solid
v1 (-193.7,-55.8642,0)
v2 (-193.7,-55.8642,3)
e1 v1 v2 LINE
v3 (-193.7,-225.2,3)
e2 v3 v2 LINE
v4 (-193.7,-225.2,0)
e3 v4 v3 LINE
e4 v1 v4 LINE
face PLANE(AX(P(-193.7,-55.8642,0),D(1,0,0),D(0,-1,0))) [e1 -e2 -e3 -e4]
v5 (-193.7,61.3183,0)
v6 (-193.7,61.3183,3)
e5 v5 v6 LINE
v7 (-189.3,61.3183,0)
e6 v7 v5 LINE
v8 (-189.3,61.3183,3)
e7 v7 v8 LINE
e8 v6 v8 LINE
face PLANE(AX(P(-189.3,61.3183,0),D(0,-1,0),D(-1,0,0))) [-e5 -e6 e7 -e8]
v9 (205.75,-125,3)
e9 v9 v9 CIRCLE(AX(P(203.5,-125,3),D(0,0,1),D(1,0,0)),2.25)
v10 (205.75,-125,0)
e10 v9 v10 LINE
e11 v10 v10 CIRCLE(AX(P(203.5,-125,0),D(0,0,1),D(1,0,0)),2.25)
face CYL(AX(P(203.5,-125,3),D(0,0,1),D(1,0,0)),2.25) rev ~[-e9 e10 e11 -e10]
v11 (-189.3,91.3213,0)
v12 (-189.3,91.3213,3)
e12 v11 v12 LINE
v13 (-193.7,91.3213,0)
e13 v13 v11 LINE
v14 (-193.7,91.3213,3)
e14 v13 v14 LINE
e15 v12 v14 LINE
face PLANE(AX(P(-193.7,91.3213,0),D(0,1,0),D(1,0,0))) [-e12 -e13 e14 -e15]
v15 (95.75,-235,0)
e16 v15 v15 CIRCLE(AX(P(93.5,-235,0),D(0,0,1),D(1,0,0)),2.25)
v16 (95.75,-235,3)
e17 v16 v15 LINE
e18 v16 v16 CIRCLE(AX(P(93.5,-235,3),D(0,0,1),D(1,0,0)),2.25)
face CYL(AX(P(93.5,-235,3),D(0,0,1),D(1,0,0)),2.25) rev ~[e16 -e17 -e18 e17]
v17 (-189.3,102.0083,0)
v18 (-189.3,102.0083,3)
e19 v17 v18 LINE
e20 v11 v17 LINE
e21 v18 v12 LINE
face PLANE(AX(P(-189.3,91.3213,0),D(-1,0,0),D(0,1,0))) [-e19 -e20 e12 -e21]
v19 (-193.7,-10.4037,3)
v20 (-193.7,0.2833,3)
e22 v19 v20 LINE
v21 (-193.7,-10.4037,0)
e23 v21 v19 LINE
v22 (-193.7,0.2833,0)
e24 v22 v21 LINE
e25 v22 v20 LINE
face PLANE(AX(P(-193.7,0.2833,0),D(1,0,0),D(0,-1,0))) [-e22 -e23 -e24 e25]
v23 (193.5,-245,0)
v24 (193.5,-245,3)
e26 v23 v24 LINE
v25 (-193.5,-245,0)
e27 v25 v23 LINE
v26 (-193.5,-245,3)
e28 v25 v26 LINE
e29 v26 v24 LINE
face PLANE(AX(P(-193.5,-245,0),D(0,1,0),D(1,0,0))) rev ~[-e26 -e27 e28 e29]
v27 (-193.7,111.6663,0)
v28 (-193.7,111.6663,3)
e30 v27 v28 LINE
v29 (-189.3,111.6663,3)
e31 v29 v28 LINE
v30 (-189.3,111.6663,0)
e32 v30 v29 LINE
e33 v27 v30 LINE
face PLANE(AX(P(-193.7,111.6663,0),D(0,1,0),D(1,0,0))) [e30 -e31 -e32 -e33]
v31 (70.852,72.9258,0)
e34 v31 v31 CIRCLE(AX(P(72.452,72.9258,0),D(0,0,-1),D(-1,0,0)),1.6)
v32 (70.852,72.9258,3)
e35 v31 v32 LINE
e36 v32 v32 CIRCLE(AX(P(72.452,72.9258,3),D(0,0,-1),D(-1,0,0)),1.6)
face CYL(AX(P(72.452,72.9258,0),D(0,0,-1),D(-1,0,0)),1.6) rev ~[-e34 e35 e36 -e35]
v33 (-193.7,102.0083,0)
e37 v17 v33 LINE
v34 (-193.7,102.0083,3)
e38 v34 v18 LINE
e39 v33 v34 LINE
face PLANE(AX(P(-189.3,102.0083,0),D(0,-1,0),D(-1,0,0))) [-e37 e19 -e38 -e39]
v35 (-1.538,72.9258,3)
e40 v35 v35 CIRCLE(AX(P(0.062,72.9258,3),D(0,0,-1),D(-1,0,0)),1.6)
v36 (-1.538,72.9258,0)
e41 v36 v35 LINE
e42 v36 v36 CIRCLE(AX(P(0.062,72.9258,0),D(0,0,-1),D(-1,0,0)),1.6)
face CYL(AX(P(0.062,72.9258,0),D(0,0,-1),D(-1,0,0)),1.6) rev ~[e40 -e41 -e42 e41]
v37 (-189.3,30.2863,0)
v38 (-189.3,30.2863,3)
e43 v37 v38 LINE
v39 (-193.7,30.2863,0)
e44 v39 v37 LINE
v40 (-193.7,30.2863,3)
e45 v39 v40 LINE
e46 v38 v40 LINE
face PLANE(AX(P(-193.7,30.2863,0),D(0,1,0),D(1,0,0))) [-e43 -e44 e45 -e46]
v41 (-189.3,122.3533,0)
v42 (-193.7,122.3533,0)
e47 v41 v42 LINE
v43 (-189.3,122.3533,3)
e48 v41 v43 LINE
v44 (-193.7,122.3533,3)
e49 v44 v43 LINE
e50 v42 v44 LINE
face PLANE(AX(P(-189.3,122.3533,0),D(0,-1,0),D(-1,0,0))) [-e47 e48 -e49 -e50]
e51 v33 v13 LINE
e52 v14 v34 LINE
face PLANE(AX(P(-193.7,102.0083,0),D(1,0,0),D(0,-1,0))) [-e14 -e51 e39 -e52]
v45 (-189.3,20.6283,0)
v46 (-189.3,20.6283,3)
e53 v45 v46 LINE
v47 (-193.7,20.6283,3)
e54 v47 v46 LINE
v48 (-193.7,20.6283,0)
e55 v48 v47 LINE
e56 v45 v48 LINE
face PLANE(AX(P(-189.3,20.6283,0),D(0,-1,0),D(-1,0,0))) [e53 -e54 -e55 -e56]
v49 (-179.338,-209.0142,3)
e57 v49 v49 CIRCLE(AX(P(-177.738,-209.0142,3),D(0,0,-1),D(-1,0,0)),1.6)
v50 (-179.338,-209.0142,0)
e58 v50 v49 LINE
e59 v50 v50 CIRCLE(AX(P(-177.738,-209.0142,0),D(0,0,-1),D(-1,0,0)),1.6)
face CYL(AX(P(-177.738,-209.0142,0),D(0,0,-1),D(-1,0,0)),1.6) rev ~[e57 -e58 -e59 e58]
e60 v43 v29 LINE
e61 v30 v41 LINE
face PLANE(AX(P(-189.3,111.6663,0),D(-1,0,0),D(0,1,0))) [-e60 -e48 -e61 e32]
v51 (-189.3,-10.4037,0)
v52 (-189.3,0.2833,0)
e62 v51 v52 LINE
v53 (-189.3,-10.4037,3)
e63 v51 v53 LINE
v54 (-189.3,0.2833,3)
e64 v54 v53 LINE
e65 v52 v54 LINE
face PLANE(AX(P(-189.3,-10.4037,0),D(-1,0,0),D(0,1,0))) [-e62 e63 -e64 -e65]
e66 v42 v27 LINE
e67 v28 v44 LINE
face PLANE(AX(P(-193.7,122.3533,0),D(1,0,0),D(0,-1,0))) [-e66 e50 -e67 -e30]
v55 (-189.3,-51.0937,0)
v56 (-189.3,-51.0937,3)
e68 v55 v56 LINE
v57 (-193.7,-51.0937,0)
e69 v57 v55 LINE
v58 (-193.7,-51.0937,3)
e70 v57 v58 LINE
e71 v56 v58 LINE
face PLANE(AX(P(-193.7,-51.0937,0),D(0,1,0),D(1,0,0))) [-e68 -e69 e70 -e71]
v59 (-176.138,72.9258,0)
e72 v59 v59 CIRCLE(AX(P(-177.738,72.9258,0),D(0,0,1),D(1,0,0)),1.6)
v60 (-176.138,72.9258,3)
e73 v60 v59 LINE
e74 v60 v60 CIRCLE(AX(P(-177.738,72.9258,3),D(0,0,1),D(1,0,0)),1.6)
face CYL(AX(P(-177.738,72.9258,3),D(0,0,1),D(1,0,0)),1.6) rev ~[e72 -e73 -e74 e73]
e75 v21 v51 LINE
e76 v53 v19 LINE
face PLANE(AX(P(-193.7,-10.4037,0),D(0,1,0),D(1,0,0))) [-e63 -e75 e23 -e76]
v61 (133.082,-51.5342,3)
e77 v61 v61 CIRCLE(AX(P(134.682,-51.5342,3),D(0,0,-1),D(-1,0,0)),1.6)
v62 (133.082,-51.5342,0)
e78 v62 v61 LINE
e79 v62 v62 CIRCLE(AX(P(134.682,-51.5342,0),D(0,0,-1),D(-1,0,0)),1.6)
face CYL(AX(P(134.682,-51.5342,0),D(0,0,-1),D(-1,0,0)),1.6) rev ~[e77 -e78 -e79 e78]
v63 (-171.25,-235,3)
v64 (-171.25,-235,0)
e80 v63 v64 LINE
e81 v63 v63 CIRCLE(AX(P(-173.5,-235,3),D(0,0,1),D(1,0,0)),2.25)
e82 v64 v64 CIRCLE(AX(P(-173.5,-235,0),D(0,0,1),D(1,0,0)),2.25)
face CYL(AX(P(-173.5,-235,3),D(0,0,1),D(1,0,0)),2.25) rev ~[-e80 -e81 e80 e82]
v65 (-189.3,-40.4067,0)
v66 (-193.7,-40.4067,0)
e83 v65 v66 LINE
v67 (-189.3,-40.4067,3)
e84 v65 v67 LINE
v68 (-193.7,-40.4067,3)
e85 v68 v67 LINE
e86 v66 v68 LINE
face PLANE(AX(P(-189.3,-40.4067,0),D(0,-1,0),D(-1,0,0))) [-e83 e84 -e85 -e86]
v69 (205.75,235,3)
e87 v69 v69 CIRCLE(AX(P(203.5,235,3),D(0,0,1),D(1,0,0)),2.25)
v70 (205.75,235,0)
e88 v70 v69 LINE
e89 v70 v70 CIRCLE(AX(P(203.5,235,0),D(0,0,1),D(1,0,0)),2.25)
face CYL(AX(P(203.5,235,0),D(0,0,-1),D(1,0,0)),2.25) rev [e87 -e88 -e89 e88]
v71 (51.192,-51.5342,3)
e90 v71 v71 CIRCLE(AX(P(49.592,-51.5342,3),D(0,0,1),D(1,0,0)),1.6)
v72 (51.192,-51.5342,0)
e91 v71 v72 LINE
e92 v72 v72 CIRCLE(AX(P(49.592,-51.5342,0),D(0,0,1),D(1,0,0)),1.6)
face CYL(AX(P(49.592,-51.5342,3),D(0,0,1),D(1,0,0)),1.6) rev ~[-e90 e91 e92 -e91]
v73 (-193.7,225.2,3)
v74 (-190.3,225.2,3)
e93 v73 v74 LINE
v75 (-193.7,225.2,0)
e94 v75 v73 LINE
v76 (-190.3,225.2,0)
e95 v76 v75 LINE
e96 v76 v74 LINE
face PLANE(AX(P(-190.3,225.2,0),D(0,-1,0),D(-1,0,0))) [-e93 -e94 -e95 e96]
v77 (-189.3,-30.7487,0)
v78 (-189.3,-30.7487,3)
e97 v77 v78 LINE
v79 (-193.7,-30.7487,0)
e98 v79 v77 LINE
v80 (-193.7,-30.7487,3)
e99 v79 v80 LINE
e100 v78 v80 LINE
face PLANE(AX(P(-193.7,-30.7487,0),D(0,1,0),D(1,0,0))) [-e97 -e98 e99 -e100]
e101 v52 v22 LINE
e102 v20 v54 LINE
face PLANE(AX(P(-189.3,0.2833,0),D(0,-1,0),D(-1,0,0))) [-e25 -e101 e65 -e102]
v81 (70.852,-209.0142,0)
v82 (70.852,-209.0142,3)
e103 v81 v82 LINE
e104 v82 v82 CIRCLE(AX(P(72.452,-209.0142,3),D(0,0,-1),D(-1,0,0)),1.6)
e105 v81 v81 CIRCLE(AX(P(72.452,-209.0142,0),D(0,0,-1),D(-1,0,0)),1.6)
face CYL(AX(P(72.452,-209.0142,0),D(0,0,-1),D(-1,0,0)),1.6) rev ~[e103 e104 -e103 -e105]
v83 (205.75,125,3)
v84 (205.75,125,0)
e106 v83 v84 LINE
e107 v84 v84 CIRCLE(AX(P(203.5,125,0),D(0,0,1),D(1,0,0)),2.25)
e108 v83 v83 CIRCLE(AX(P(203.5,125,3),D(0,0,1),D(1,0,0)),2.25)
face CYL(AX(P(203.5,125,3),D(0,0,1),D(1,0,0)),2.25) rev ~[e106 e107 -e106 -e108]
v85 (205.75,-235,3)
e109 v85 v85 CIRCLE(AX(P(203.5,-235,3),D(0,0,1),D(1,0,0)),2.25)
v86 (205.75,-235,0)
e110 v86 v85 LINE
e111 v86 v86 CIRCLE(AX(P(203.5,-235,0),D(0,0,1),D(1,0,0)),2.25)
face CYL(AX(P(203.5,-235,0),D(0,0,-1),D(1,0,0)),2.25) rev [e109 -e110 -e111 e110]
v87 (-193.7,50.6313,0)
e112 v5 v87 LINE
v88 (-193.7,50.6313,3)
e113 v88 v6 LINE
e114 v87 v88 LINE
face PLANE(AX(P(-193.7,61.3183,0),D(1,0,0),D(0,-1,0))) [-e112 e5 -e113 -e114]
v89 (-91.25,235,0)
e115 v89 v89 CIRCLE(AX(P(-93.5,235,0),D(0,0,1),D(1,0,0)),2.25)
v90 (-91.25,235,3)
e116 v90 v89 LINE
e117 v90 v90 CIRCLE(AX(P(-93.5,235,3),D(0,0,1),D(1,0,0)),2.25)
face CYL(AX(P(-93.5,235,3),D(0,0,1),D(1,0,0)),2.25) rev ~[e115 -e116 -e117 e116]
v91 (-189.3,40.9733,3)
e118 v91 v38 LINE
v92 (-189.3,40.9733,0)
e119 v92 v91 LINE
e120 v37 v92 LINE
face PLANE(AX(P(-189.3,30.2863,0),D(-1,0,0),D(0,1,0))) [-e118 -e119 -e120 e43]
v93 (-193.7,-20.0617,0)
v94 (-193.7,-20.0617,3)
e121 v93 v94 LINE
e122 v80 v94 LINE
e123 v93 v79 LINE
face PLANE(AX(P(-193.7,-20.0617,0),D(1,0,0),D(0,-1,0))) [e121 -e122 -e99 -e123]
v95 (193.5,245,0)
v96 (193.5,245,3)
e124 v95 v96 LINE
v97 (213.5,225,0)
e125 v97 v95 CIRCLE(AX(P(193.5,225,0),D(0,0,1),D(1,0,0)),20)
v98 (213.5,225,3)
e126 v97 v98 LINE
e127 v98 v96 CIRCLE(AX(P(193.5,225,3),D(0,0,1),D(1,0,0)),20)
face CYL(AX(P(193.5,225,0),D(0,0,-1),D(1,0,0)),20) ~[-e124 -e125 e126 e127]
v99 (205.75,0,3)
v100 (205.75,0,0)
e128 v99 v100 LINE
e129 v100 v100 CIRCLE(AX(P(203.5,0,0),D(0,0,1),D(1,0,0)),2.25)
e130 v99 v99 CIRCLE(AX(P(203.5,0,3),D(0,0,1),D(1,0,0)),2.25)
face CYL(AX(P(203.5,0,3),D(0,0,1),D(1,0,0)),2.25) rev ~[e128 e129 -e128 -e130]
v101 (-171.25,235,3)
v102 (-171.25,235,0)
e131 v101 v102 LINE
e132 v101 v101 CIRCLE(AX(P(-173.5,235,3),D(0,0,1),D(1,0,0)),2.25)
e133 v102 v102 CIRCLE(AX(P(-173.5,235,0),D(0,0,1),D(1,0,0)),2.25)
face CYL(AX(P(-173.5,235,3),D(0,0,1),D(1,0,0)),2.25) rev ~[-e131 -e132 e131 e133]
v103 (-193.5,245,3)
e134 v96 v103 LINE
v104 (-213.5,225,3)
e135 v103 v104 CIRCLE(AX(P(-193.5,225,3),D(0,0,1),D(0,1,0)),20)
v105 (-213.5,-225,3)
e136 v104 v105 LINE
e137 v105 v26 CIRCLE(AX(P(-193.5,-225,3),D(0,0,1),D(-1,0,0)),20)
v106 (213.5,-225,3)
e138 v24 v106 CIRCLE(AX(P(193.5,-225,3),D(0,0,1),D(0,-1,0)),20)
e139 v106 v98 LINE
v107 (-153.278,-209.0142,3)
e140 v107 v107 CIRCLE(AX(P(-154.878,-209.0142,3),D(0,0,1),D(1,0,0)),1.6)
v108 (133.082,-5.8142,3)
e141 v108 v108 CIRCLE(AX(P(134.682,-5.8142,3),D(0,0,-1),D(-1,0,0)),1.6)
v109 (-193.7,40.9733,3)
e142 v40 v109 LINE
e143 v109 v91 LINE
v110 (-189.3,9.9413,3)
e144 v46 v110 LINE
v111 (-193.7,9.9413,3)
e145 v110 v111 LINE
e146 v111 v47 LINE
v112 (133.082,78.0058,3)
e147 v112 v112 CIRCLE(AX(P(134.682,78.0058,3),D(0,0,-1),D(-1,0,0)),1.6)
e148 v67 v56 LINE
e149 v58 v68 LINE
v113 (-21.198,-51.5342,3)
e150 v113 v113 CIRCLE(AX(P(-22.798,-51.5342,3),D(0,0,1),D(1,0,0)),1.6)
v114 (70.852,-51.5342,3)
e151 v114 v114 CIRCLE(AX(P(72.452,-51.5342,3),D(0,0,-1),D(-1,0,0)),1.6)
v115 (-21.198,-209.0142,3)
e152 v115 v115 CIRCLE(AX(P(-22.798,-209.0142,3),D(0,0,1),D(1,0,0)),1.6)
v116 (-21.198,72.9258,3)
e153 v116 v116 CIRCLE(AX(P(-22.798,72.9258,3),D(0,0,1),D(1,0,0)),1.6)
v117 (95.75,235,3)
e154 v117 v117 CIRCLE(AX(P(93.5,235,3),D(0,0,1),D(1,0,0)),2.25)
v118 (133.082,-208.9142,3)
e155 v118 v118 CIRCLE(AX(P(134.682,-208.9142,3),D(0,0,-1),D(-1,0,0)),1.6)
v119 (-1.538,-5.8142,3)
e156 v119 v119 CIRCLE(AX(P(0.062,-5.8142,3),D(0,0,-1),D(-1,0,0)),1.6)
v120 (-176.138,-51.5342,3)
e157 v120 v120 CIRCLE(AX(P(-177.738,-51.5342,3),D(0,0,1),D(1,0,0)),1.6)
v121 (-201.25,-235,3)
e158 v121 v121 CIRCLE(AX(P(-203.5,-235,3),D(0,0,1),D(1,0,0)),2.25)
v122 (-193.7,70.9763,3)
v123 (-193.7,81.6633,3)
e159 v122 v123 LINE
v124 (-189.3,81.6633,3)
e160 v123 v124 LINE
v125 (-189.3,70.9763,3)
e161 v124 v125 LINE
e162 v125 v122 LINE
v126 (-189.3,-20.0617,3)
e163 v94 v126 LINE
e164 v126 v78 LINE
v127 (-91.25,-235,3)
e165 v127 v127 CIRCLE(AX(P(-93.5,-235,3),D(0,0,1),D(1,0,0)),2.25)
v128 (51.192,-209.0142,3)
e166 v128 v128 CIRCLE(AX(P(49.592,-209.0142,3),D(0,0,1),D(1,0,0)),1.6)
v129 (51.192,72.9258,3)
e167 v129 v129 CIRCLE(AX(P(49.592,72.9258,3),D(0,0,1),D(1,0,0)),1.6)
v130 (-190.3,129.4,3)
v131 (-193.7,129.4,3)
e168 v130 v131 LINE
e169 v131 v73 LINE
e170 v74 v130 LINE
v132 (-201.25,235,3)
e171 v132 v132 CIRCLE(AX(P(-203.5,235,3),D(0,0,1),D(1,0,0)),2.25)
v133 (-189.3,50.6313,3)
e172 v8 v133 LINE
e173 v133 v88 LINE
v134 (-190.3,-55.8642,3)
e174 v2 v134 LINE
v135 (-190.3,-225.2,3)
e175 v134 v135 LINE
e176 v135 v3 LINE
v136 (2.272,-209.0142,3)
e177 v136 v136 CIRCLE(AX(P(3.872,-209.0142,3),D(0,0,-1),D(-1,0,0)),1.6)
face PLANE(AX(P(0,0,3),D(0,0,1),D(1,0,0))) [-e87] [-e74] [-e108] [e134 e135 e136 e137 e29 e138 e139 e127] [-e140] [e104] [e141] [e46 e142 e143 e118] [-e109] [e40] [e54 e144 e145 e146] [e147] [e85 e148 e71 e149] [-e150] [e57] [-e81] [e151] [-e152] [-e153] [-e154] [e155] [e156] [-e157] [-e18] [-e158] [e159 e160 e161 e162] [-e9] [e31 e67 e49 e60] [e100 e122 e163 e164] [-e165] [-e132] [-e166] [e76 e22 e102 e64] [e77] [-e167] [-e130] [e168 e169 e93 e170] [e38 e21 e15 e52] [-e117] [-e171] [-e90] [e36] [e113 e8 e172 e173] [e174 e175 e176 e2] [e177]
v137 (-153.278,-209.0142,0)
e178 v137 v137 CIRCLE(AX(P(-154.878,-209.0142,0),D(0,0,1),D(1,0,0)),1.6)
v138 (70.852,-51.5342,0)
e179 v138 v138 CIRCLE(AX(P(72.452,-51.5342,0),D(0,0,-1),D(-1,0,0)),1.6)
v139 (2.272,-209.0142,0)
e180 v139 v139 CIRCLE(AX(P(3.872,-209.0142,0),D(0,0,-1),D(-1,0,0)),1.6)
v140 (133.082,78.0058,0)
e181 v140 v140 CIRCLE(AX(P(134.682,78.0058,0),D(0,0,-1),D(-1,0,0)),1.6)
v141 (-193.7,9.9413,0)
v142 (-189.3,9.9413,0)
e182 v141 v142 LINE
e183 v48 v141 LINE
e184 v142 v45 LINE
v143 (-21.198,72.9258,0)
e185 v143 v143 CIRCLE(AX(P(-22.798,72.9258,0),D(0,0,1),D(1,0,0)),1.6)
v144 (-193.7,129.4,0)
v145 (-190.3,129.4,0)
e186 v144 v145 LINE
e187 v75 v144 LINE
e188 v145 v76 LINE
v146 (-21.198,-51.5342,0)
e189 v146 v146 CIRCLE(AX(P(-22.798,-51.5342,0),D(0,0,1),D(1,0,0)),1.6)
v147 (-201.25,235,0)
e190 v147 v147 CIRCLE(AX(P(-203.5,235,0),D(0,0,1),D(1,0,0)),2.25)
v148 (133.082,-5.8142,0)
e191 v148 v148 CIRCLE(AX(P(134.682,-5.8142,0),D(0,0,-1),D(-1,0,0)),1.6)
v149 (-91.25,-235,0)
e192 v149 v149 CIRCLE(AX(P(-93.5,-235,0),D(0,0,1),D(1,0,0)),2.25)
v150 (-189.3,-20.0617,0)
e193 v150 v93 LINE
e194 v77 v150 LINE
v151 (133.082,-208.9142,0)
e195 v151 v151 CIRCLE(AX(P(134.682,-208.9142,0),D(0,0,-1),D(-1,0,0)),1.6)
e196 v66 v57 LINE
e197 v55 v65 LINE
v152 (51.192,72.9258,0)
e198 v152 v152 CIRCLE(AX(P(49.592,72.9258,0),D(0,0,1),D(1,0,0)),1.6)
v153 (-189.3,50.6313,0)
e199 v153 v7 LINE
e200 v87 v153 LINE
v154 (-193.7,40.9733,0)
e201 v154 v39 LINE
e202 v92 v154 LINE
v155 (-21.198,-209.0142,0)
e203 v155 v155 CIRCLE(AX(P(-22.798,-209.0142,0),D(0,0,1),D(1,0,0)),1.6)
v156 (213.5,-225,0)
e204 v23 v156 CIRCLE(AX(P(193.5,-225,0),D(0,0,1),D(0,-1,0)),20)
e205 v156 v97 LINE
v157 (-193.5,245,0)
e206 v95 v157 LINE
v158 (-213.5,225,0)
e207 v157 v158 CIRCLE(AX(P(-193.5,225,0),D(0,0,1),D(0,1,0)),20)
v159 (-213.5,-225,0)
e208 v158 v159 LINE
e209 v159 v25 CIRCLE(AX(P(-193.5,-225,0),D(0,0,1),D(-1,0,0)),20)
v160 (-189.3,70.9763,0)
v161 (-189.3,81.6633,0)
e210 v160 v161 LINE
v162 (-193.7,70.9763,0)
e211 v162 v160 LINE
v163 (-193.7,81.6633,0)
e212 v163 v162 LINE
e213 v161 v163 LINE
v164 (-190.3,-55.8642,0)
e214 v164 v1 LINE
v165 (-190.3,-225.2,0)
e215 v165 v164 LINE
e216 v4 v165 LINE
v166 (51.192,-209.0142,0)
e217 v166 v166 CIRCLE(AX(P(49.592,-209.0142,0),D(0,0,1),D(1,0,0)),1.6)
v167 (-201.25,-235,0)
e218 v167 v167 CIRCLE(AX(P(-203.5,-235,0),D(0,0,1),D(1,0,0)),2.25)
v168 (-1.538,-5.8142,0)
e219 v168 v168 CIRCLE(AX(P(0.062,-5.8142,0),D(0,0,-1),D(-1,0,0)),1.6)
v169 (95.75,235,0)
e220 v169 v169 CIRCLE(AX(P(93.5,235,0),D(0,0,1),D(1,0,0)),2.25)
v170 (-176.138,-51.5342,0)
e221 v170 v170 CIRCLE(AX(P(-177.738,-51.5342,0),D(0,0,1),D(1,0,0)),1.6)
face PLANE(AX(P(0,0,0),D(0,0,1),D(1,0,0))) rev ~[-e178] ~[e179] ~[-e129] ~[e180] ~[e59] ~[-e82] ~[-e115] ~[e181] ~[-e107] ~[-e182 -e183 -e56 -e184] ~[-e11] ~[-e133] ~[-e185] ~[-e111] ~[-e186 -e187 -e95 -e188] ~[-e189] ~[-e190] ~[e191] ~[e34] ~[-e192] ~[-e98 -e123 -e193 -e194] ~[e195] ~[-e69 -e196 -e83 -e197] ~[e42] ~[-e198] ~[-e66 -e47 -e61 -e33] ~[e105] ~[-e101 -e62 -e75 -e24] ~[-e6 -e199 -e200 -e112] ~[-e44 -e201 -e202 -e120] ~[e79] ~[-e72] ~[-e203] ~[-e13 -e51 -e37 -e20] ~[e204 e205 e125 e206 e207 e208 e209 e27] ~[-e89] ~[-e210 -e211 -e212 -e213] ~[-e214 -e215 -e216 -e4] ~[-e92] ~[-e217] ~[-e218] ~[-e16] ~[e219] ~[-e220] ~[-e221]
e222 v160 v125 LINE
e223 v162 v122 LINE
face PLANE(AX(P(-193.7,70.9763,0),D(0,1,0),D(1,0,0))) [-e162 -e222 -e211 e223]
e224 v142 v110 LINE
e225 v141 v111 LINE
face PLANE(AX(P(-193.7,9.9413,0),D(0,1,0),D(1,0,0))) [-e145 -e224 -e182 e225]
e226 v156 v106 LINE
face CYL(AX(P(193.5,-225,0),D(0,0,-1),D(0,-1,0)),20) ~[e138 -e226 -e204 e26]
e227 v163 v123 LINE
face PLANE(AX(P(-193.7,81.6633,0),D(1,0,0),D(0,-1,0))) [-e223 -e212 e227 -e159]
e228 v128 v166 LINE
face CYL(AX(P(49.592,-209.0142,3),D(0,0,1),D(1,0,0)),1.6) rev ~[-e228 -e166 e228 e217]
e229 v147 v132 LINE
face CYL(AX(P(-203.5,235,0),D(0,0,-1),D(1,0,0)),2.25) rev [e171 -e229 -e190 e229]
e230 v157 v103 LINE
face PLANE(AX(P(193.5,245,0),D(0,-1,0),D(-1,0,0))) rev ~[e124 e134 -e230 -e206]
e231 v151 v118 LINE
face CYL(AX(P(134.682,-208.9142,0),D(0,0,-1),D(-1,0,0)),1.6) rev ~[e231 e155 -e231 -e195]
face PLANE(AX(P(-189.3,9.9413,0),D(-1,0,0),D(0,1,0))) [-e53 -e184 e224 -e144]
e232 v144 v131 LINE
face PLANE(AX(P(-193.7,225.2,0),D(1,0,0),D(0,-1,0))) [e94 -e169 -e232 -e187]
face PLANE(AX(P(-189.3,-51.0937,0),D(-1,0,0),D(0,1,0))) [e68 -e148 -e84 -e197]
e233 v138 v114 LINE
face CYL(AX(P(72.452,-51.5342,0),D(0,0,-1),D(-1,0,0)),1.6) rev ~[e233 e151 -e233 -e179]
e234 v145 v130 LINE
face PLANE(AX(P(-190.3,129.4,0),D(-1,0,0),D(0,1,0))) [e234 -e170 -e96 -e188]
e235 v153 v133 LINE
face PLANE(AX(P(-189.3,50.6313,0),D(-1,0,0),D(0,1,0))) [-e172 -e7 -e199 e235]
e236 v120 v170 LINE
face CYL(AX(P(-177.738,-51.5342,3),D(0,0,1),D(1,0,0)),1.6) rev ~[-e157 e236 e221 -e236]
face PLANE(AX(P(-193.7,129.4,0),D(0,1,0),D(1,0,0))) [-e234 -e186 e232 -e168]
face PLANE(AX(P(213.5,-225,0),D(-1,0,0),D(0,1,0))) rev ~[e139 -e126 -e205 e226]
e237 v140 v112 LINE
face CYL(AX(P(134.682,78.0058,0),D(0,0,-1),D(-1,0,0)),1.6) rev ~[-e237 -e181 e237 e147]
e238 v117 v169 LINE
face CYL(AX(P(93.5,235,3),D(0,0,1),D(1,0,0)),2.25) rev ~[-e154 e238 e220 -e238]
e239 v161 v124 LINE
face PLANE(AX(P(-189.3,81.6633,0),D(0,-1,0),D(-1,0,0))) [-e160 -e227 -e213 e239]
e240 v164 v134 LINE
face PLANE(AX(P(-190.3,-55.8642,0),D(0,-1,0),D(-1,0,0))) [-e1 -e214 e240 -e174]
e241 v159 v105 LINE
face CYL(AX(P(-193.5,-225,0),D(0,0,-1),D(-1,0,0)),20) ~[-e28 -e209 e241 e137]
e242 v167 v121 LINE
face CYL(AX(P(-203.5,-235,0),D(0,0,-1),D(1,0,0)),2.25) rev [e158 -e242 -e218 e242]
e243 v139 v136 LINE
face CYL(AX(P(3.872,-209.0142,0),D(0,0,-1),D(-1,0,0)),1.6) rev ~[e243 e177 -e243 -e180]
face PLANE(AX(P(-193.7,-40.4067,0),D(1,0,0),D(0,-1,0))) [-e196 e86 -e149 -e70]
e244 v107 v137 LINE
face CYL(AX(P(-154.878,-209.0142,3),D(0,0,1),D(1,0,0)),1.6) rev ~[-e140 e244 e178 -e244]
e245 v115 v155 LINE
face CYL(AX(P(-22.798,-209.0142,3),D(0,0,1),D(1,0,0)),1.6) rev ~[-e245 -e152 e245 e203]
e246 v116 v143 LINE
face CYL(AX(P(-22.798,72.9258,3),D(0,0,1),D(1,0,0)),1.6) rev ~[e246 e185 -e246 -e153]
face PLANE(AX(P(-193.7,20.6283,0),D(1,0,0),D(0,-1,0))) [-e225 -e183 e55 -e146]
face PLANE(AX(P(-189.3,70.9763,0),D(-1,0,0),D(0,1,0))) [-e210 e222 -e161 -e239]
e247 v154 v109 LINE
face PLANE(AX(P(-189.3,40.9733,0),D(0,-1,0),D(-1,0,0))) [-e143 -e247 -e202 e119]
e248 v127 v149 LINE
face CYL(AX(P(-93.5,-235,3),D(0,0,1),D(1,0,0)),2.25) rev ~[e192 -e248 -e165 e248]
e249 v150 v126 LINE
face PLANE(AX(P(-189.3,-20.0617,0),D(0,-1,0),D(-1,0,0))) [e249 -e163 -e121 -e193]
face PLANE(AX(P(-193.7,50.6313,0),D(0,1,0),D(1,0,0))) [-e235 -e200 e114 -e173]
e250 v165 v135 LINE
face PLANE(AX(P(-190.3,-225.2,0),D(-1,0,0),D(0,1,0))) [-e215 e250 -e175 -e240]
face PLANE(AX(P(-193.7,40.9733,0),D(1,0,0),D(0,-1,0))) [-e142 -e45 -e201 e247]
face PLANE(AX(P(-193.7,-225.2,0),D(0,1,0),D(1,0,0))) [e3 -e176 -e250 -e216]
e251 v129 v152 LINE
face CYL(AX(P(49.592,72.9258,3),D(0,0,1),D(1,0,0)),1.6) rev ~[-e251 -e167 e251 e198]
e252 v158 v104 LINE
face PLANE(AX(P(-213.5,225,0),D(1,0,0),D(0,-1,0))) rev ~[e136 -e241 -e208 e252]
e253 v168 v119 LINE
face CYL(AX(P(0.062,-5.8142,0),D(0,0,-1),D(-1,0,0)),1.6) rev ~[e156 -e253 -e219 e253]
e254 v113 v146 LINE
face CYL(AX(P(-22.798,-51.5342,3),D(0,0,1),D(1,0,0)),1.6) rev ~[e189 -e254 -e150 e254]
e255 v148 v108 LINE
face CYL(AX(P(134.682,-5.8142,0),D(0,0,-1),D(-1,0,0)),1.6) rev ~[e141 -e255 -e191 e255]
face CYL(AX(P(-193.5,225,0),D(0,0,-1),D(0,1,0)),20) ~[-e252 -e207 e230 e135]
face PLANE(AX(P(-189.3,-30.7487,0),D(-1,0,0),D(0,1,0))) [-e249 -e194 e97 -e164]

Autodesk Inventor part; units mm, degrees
ref_plane "YZ Plane" through (0, 0, 0) normal (1, 0, 0) x (0, 1, 0)
ref_plane "XZ Plane" through (0, 0, 0) normal (0, 1, 0) x (-1, 0, 0)
ref_plane "XY Plane" through (0, 0, 0) normal (0, 0, 1) x (1, 0, 0)
sketch "スケッチ1" plane through (0, 0, 0) normal (0, 0, 1) x (1, 0, 0)
  line L0 (-193.5, -245) -> (193.5, -245)
  line L1 (213.5, -225) -> (213.5, 225)
  line L2 (193.5, 245) -> (-193.5, 245)
  line L3 (-213.5, 225) -> (-213.5, -225)
  line L4 (-213.5, -245) -> (213.5, 245) construction
  line L5 (213.5, -245) -> (-213.5, 245) construction
  circle A0 centre (-203.5, 235) radius 2.25
  circle A1 centre (203.5, 235) radius 2.25
  circle A2 centre (-203.5, -235) radius 2.25
  circle A3 centre (203.5, -235) radius 2.25
  arc A4 (-193.5, 245) -> (-213.5, 225) centre (-193.5, 225) ccw
  arc A5 (213.5, 225) -> (193.5, 245) centre (193.5, 225) ccw
  arc A6 (193.5, -245) -> (213.5, -225) centre (193.5, -225) ccw
  arc A7 (-213.5, -225) -> (-193.5, -245) centre (-193.5, -225) ccw
  point P0 (0, 0)
  dimension "d0" = 427
  dimension "d1" = 490
  dimension "d2" = 4.5
  dimension "d3" = 10
  dimension "d4" = 10
  dimension "d5" = 10
  dimension "d6" = 10
  dimension "d7" = 10
  dimension "d8" = 10
  dimension "d9" = 10
  dimension "d10" = 10
  dimension "d11" = 20
extrude "押し出し1" add sketch "スケッチ1" along normal blind 3
sketch "スケッチ2" plane through (0, 0, 3) normal (0, 0, 1) x (1, 0, 0)
  circle A0 centre (49.592, 72.9258) radius 1.6
  circle A1 centre (-22.798, 72.9258) radius 1.6
  circle A2 centre (-177.738, 72.9258) radius 1.6
  circle A3 centre (-177.738, -51.5342) radius 1.6
  circle A4 centre (-154.878, -209.0142) radius 1.6
  circle A5 centre (-22.798, -209.0142) radius 1.6
  circle A6 centre (49.592, -209.0142) radius 1.6
  circle A7 centre (49.592, -51.5342) radius 1.6
  circle A8 centre (-22.798, -51.5342) radius 1.6
  circle A9 centre (49.592, -209.0142) radius 2.25 projected
  circle A10 centre (-154.878, -209.0142) radius 2.25 projected
  circle A11 centre (49.592, -51.5342) radius 2.25 projected
  circle A12 centre (49.592, 72.9258) radius 2.25 projected
  circle A13 centre (-22.798, -209.0142) radius 2.25 projected
  circle A14 centre (-22.798, -51.5342) radius 2.25 projected
  circle A15 centre (-22.798, 72.9258) radius 2.25 projected
  circle A16 centre (-177.738, -51.5342) radius 2.25 projected
  circle A17 centre (-177.738, 72.9258) radius 2.25 projected
  point P0 (0, 0)
  dimension "d14" = 3.2
extrude "押し出し2" cut sketch "スケッチ2" against normal blind 3 contours A0 | A1 | A2 | A3 | A4 | A5 | A6 | A7 | A8
sketch "スケッチ4" plane through (0, 0, 3) normal (0, 0, 1) x (1, 0, 0)
  line L0 (-193.5, -225) -> (-190.5, -225) projected
  line L1 (-193.5, 225) -> (-193.5, 129.6) projected
  line L2 (-193.5, 129.6) -> (-190.5, 129.6) projected
  line L3 (-190.5, 225) -> (-190.5, 129.6) projected
  line L4 (-193.5, 225) -> (-190.5, 225) projected
  line L5 (-190.5, -40.6067) -> (-189.5, -40.6067)
  line L6 (-189.5, -40.6067) -> (-189.5, -50.8937)
  line L7 (-189.5, -50.8937) -> (-190.5, -50.8937)
  line L8 (-193.5, -225) -> (-193.5, -56.0642) projected
  line L9 (-190.5, -56.0642) -> (-190.5, -225) projected
  line L10 (-190.5, -40.6067) -> (-190.5, -50.8937) construction
  line L11 (-190.5, -50.8937) -> (-193.5, -50.8937)
  line L12 (-193.5, -50.8937) -> (-193.5, -40.6067)
  line L13 (-193.5, -40.6067) -> (-190.5, -40.6067)
  line L14 (-193.5, -56.0642) -> (-190.5, -56.0642) projected
  line L15 (-193.5, -20.2617) -> (-190.5, -20.2617)
  line L16 (-190.5, -20.2617) -> (-189.5, -20.2617)
  line L17 (-189.5, -20.2617) -> (-189.5, -30.5487)
  line L18 (-189.5, -30.5487) -> (-190.5, -30.5487)
  line L19 (-193.5, -30.5487) -> (-193.5, -20.2617)
  line L20 (-190.5, -30.5487) -> (-193.5, -30.5487)
  line L21 (-193.5, 0.0833) -> (-190.5, 0.0833)
  line L22 (-190.5, 0.0833) -> (-189.5, 0.0833)
  line L23 (-189.5, 0.0833) -> (-189.5, -10.2037)
  line L24 (-189.5, -10.2037) -> (-190.5, -10.2037)
  line L25 (-193.5, -10.2037) -> (-193.5, 0.0833)
  line L26 (-190.5, -10.2037) -> (-193.5, -10.2037)
  line L27 (-193.5, 20.4283) -> (-190.5, 20.4283)
  line L28 (-190.5, 20.4283) -> (-189.5, 20.4283)
  line L29 (-189.5, 20.4283) -> (-189.5, 10.1413)
  line L30 (-189.5, 10.1413) -> (-190.5, 10.1413)
  line L31 (-193.5, 10.1413) -> (-193.5, 20.4283)
  line L32 (-190.5, 10.1413) -> (-193.5, 10.1413)
  line L33 (-193.5, 40.7733) -> (-190.5, 40.7733)
  line L34 (-190.5, 40.7733) -> (-189.5, 40.7733)
  line L35 (-189.5, 40.7733) -> (-189.5, 30.4863)
  line L36 (-189.5, 30.4863) -> (-190.5, 30.4863)
  line L37 (-193.5, 30.4863) -> (-193.5, 40.7733)
  line L38 (-190.5, 30.4863) -> (-193.5, 30.4863)
  line L39 (-193.5, 61.1183) -> (-190.5, 61.1183)
  line L40 (-190.5, 61.1183) -> (-189.5, 61.1183)
  line L41 (-189.5, 61.1183) -> (-189.5, 50.8313)
  line L42 (-189.5, 50.8313) -> (-190.5, 50.8313)
  line L43 (-193.5, 50.8313) -> (-193.5, 61.1183)
  line L44 (-190.5, 50.8313) -> (-193.5, 50.8313)
  line L45 (-193.5, 81.4633) -> (-190.5, 81.4633)
  line L46 (-190.5, 81.4633) -> (-189.5, 81.4633)
  line L47 (-189.5, 81.4633) -> (-189.5, 71.1763)
  line L48 (-189.5, 71.1763) -> (-190.5, 71.1763)
  line L49 (-193.5, 71.1763) -> (-193.5, 81.4633)
  line L50 (-190.5, 71.1763) -> (-193.5, 71.1763)
  line L51 (-193.5, 101.8083) -> (-190.5, 101.8083)
  line L52 (-190.5, 101.8083) -> (-189.5, 101.8083)
  line L53 (-189.5, 101.8083) -> (-189.5, 91.5213)
  line L54 (-189.5, 91.5213) -> (-190.5, 91.5213)
  line L55 (-193.5, 91.5213) -> (-193.5, 101.8083)
  line L56 (-190.5, 91.5213) -> (-193.5, 91.5213)
  line L57 (-193.5, 122.1533) -> (-190.5, 122.1533)
  line L58 (-190.5, 122.1533) -> (-189.5, 122.1533)
  line L59 (-189.5, 122.1533) -> (-189.5, 111.8663)
  line L60 (-189.5, 111.8663) -> (-190.5, 111.8663)
  line L61 (-193.5, 111.8663) -> (-193.5, 122.1533)
  line L62 (-190.5, 111.8663) -> (-193.5, 111.8663)
  point P0 (0, 0)
  point P1 (-225, -58.3552)
  point P2 (-222, -58.3552)
  point P3 (-225, -120.4005)
  point P4 (-222, -120.4005)
  dimension "d143" = 20.345
  dimension "d148" = 1
  dimension "d149" = 3
extrude "押し出し3" cut sketch "スケッチ4" against normal blind 3
sketch "スケッチ5" plane through (0, 0, 3) normal (0, 0, 1) x (1, 0, 0)
  circle A0 centre (-203.5, 235) radius 2.25 construction
  circle A1 centre (-203.5, -235) radius 2.25 construction
  circle A2 centre (-173.5, -235) radius 2.25
  line L0 (-193.5, -245) -> (193.5, -245) projected
  circle A3 centre (-173.5, 235) radius 2.25
  line L1 (193.5, 245) -> (-193.5, 245) projected
  point P0 (0, 0)
  dimension "d20" = 30
  dimension "d21" = 10
  dimension "d22" = 30
  dimension "d23" = 10
extrude "押し出し4" cut sketch "スケッチ5" against normal blind 3
sketch "スケッチ7" plane through (0, 0, 3) normal (0, 0, 1) x (1, 0, 0)
  line L0 (213.5, 225) -> (213.5, -225) projected
  circle A0 centre (-93.5, -235) radius 2.25 projected
  circle A1 centre (203.5, 0) radius 2.25 projected
  circle A2 centre (93.5, -235) radius 2.25 projected
  circle A3 centre (203.5, 125) radius 2.25 projected
  circle A4 centre (-93.5, 235) radius 2.25 projected
  circle A5 centre (-203.5, -125) radius 2.25 projected
  circle A6 centre (-203.5, 0) radius 2.25 projected
  circle A7 centre (93.5, 235) radius 2.25 projected
  circle A8 centre (203.5, -125) radius 2.25 projected
  line L1 (-193.7, 132.4) -> (-190.3, 132.4) projected
  line L2 (-190.3, 132.4) -> (-190.3, 225.2) projected
  line L3 (-190.3, 225.2) -> (-193.7, 225.2) projected
  circle A9 centre (203.5, 235) radius 2.25 projected
  circle A10 centre (-203.5, 235) radius 2.25 projected
  circle A11 centre (203.5, -235) radius 2.25 projected
  circle A12 centre (-203.5, -235) radius 2.25 projected
  line L4 (193.5, -245) -> (-193.5, -245) projected
  arc A13 (-213.5, -225) -> (-193.5, -245) centre (-193.5, -225) ccw projected
  line L5 (-213.5, -225) -> (-213.5, 225) projected
  arc A14 (-193.5, 245) -> (-213.5, 225) centre (-193.5, 225) ccw projected
  line L6 (-193.5, 245) -> (193.5, 245) projected
  arc A15 (213.5, 225) -> (193.5, 245) centre (193.5, 225) ccw projected
  line L7 (213.5, 225) -> (213.5, -225) projected
  arc A16 (193.5, -245) -> (213.5, -225) centre (193.5, -225) ccw projected
  line L8 (-193.7, 225.2) -> (-193.7, 132.4) projected
  circle A17 centre (-203.5, 125) radius 2.25 projected
  point P0 (0, 0)
extrude "押し出し6" cut sketch "スケッチ7" against normal up to surface (3 mm away) contours A0 | A1 | A2 | A3 | A4 | A7 | A8
sketch "スケッチ8" plane through (0, 0, 0) normal (0, 0, -1) x (-1, 0, 0)
  line L0 (-38.275, 130.075) -> (-138.725, 130.075) construction
  line L1 (-138.725, 130.075) -> (-138.725, 199.925) construction
  line L2 (-138.725, 199.925) -> (-38.275, 199.925) construction
  line L3 (-38.275, 199.925) -> (-38.275, 130.075) construction
  line L4 (-38.275, 130.075) -> (-138.725, 199.925) construction
  line L5 (-138.725, 130.075) -> (-38.275, 199.925) construction
  line L6 (193.5, 245) -> (-193.5, 245) construction
  line L7 (-213.5, 225) -> (-213.5, -225) construction
  line L8 (-48.125, 195.86) -> (-124.725, 195.86) construction
  line L9 (-124.725, 195.86) -> (-124.725, 134.14) construction
  line L10 (-124.725, 134.14) -> (-48.125, 134.14) construction
  line L11 (-48.125, 134.14) -> (-48.125, 195.86) construction
  line L12 (-48.125, 195.86) -> (-124.725, 134.14) construction
  line L13 (-124.725, 195.86) -> (-48.125, 134.14) construction
  line L14 (-86.425, 165) -> (-88.5, 165) construction
  circle A0 centre (-48.125, 134.14) radius 1.6
  circle A1 centre (-48.125, 195.86) radius 1.6
  circle A2 centre (-124.725, 195.86) radius 1.6
  circle A3 centre (-124.725, 134.14) radius 1.6
  point P0 (0, 0)
  dimension "d40" = 69.85
  dimension "d41" = 100.45
  dimension "d42" = 80
  dimension "d43" = 125
  dimension "d44" = 61.72
  dimension "d45" = 90.6
  dimension "d46" = 14
  dimension "d47" = 3.2
  dimension "d48" = 3.2
  dimension "d49" = 3.2
  dimension "d50" = 3.2
extrude "押し出し7" [suppressed]
sketch "スケッチ9" plane through (0, 0, 0) normal (0, 0, -1) x (-1, 0, 0)
  circle A0 centre (154.878, -209.0142) radius 1.6 construction
  circle A1 centre (22.798, -209.0142) radius 1.6 construction
  circle A2 centre (-49.592, -209.0142) radius 1.6 construction
  circle A3 centre (177.738, -51.5342) radius 1.6 construction
  circle A4 centre (177.738, 72.9258) radius 1.6 construction
  circle A5 centre (22.798, 72.9258) radius 1.6 construction
  circle A6 centre (-49.592, 72.9258) radius 1.6 construction
  circle A7 centre (22.798, -51.5342) radius 1.6 construction
  circle A8 centre (-49.592, -51.5342) radius 1.6 construction
  line L0 (187.898, -215.3642) -> (-83.882, -215.3642) construction
  line L1 (-83.882, -215.3642) -> (-83.882, 89.4358) construction
  line L2 (-83.882, 89.4358) -> (187.898, 89.4358) construction
  line L3 (187.898, 89.4358) -> (187.898, -215.3642) construction
  point P0 (0, 0)
  dimension "d53" = 6.35
  dimension "d54" = 33.02
  dimension "d55" = 304.8
  dimension "d56" = 271.78
sketch "スケッチ10" plane through (0, 0, 0) normal (0, 0, -1) x (-1, 0, 0)
  line L0 (187.898, -215.3642) -> (-142.302, -215.3642) construction
  line L1 (-142.302, -215.3642) -> (-142.302, 89.4358) construction
  line L2 (-142.302, 89.4358) -> (187.898, 89.4358) construction
  line L3 (187.898, 89.4358) -> (187.898, -215.3642) construction
  circle A0 centre (177.738, 72.9258) radius 1.6 construction
  circle A1 centre (-203.5, -125) radius 2.25 projected
  circle A2 centre (-134.682, 78.0058) radius 1.6
  circle A3 centre (177.738, 72.9258) radius 1.6 construction
  line L4 (177.738, 72.9258) -> (22.798, 72.9258) construction
  circle A4 centre (22.798, 72.9258) radius 1.6 construction
  circle A5 centre (22.798, 72.9258) radius 1.6 construction
  line L5 (22.798, 72.9258) -> (-49.592, 72.9258) construction
  line L6 (-49.592, 72.9258) -> (-72.452, 72.9258) construction
  circle A6 centre (-49.592, 72.9258) radius 1.6
  circle A7 centre (-72.452, 72.9258) radius 1.6
  line L7 (-134.682, 78.0058) -> (-134.682, -5.8142) construction
  line L8 (-134.682, -5.8142) -> (-134.682, -51.5342) construction
  line L9 (-134.682, -51.5342) -> (-134.682, -208.9142) construction
  circle A8 centre (-134.682, -5.8142) radius 1.6
  circle A9 centre (-134.682, -51.5342) radius 1.6
  circle A10 centre (-134.682, -208.9142) radius 1.6
  line L10 (-134.682, -5.8142) -> (-0.062, -5.8142) construction
  circle A11 centre (-0.062, -5.8142) radius 1.6
  line L11 (-0.062, -5.8142) -> (-0.062, 72.9258) construction
  circle A12 centre (-0.062, 72.9258) radius 1.6
  line L12 (177.738, 72.9258) -> (177.738, -209.0142) construction
  circle A13 centre (154.878, -209.0142) radius 1.6 construction
  line L13 (177.738, -209.0142) -> (154.878, -209.0142) construction
  circle A14 centre (177.738, -209.0142) radius 1.6
  line L14 (-72.452, 72.9258) -> (-72.452, -209.0142) construction
  line L15 (-72.452, -209.0142) -> (-49.592, -209.0142) construction
  circle A15 centre (-49.592, -51.5342) radius 1.6 construction
  line L16 (-49.592, -51.5342) -> (-72.452, -51.5342) construction
  circle A16 centre (-49.592, -209.0142) radius 1.6 construction
  circle A17 centre (-72.452, -51.5342) radius 1.6
  circle A18 centre (-72.452, -209.0142) radius 1.6
  line L17 (-49.592, -209.0142) -> (154.878, -209.0142) construction
  circle A19 centre (-3.872, -209.0142) radius 1.6
  point P0 (0, 0)
  dimension "d57" = 330.2
  dimension "d58" = 304.8
  dimension "d59" = 10.16
  dimension "d60" = 16.51
  dimension "d61" = 61.198
  dimension "d62" = 5.08
  dimension "d63" = 312.42
  dimension "d64" = 154.94
  dimension "d65" = 227.33
  dimension "d66" = 250.19
  dimension "d67" = 78.74
  dimension "d68" = 124.46
  dimension "d69" = 281.84
  dimension "d70" = 177.8
  dimension "d71" = 134.62
  dimension "d72" = 16.51
  dimension "d73" = 181.61
  dimension "d74" = 3.2
extrude "押し出し8" cut sketch "スケッチ10" against normal blind 10 contours A2 | A7 | A8 | A9 | A10 | A11 | A12 | A14 | A17 | A18 | A19
sketch "スケッチ11" plane through (0, 0, 3) normal (0, 0, 1) x (1, 0, 0)
  point P0 (0, 0)
sketch "スケッチ12" plane through (0, 0, 0) normal (0, 0, -1) x (-1, 0, 0)
  line L0 (190.5, 225) -> (193.5, 225) construction
  line L1 (190.5, 129.6) -> (190.5, 225) construction
  line L2 (193.5, 225) -> (193.5, 129.6) construction
  line L3 (193.5, 129.6) -> (190.5, 129.6) construction
  line L4 (189.5, -40.6067) -> (193.5, -40.6067) construction
  line L5 (189.5, -50.8937) -> (189.5, -40.6067) construction
  line L6 (193.5, -50.8937) -> (189.5, -50.8937) construction
  line L7 (193.5, -40.6067) -> (193.5, -50.8937) construction
  line L8 (190.5, -56.0642) -> (193.5, -56.0642) construction
  line L9 (190.5, -225) -> (190.5, -56.0642) construction
  line L10 (193.5, -56.0642) -> (193.5, -225) construction
  line L11 (193.5, -225) -> (190.5, -225) construction
  line L12 (190.3, -225.2) -> (190.3, -55.8642)
  line L13 (190.3, -55.8642) -> (193.7, -55.8642)
  line L14 (193.7, -55.8642) -> (193.7, -225.2)
  line L15 (193.7, -225.2) -> (190.3, -225.2)
  line L16 (193.7, -51.0937) -> (189.3, -51.0937)
  line L17 (189.3, -51.0937) -> (189.3, -40.4067)
  line L18 (189.3, -40.4067) -> (193.7, -40.4067)
  line L19 (193.7, -40.4067) -> (193.7, -51.0937)
  line L20 (190.3, 129.4) -> (190.3, 225.2)
  line L21 (190.3, 225.2) -> (193.7, 225.2)
  line L22 (193.7, 225.2) -> (193.7, 129.4)
  line L23 (193.7, 129.4) -> (190.3, 129.4)
  line L24 (193.7, -30.7487) -> (189.3, -30.7487)
  line L25 (193.7, -20.0617) -> (193.7, -30.7487)
  line L26 (189.3, -20.0617) -> (193.7, -20.0617)
  line L27 (189.3, -30.7487) -> (189.3, -20.0617)
  line L28 (193.7, -10.4037) -> (189.3, -10.4037)
  line L29 (193.7, 0.2833) -> (193.7, -10.4037)
  line L30 (189.3, 0.2833) -> (193.7, 0.2833)
  line L31 (189.3, -10.4037) -> (189.3, 0.2833)
  line L32 (193.7, 9.9413) -> (189.3, 9.9413)
  line L33 (193.7, 20.6283) -> (193.7, 9.9413)
  line L34 (189.3, 20.6283) -> (193.7, 20.6283)
  line L35 (189.3, 9.9413) -> (189.3, 20.6283)
  line L36 (193.7, 30.2863) -> (189.3, 30.2863)
  line L37 (193.7, 40.9733) -> (193.7, 30.2863)
  line L38 (189.3, 40.9733) -> (193.7, 40.9733)
  line L39 (189.3, 30.2863) -> (189.3, 40.9733)
  line L40 (193.7, 50.6313) -> (189.3, 50.6313)
  line L41 (193.7, 61.3183) -> (193.7, 50.6313)
  line L42 (189.3, 61.3183) -> (193.7, 61.3183)
  line L43 (189.3, 50.6313) -> (189.3, 61.3183)
  line L44 (193.7, 70.9763) -> (189.3, 70.9763)
  line L45 (193.7, 81.6633) -> (193.7, 70.9763)
  line L46 (189.3, 81.6633) -> (193.7, 81.6633)
  line L47 (189.3, 70.9763) -> (189.3, 81.6633)
  line L48 (193.7, 91.3213) -> (189.3, 91.3213)
  line L49 (193.7, 102.0083) -> (193.7, 91.3213)
  line L50 (189.3, 102.0083) -> (193.7, 102.0083)
  line L51 (189.3, 91.3213) -> (189.3, 102.0083)
  line L52 (193.7, 111.6663) -> (189.3, 111.6663)
  line L53 (193.7, 122.3533) -> (193.7, 111.6663)
  line L54 (189.3, 122.3533) -> (193.7, 122.3533)
  line L55 (189.3, 111.6663) -> (189.3, 122.3533)
  point P0 (0, 0)
  point P1 (176.138, -51.5342)
  point P2 (176.138, -51.5342)
  dimension "d128" = 0.2
  dimension "d129" = 0.2
  dimension "d138" = 0.2
  dimension "d152" = 20.345
extrude "押し出し9" cut sketch "スケッチ12" against normal through all
equation "\"d5\" = d3"
equation "\"d6\" = d4"
equation "\"d7\" = d6"
equation "\"d8\" = d5"
equation "\"d9\" = d8"
equation "\"d10\" = d7"
properties part number "right_panel" material "アルミニウム 6061"
